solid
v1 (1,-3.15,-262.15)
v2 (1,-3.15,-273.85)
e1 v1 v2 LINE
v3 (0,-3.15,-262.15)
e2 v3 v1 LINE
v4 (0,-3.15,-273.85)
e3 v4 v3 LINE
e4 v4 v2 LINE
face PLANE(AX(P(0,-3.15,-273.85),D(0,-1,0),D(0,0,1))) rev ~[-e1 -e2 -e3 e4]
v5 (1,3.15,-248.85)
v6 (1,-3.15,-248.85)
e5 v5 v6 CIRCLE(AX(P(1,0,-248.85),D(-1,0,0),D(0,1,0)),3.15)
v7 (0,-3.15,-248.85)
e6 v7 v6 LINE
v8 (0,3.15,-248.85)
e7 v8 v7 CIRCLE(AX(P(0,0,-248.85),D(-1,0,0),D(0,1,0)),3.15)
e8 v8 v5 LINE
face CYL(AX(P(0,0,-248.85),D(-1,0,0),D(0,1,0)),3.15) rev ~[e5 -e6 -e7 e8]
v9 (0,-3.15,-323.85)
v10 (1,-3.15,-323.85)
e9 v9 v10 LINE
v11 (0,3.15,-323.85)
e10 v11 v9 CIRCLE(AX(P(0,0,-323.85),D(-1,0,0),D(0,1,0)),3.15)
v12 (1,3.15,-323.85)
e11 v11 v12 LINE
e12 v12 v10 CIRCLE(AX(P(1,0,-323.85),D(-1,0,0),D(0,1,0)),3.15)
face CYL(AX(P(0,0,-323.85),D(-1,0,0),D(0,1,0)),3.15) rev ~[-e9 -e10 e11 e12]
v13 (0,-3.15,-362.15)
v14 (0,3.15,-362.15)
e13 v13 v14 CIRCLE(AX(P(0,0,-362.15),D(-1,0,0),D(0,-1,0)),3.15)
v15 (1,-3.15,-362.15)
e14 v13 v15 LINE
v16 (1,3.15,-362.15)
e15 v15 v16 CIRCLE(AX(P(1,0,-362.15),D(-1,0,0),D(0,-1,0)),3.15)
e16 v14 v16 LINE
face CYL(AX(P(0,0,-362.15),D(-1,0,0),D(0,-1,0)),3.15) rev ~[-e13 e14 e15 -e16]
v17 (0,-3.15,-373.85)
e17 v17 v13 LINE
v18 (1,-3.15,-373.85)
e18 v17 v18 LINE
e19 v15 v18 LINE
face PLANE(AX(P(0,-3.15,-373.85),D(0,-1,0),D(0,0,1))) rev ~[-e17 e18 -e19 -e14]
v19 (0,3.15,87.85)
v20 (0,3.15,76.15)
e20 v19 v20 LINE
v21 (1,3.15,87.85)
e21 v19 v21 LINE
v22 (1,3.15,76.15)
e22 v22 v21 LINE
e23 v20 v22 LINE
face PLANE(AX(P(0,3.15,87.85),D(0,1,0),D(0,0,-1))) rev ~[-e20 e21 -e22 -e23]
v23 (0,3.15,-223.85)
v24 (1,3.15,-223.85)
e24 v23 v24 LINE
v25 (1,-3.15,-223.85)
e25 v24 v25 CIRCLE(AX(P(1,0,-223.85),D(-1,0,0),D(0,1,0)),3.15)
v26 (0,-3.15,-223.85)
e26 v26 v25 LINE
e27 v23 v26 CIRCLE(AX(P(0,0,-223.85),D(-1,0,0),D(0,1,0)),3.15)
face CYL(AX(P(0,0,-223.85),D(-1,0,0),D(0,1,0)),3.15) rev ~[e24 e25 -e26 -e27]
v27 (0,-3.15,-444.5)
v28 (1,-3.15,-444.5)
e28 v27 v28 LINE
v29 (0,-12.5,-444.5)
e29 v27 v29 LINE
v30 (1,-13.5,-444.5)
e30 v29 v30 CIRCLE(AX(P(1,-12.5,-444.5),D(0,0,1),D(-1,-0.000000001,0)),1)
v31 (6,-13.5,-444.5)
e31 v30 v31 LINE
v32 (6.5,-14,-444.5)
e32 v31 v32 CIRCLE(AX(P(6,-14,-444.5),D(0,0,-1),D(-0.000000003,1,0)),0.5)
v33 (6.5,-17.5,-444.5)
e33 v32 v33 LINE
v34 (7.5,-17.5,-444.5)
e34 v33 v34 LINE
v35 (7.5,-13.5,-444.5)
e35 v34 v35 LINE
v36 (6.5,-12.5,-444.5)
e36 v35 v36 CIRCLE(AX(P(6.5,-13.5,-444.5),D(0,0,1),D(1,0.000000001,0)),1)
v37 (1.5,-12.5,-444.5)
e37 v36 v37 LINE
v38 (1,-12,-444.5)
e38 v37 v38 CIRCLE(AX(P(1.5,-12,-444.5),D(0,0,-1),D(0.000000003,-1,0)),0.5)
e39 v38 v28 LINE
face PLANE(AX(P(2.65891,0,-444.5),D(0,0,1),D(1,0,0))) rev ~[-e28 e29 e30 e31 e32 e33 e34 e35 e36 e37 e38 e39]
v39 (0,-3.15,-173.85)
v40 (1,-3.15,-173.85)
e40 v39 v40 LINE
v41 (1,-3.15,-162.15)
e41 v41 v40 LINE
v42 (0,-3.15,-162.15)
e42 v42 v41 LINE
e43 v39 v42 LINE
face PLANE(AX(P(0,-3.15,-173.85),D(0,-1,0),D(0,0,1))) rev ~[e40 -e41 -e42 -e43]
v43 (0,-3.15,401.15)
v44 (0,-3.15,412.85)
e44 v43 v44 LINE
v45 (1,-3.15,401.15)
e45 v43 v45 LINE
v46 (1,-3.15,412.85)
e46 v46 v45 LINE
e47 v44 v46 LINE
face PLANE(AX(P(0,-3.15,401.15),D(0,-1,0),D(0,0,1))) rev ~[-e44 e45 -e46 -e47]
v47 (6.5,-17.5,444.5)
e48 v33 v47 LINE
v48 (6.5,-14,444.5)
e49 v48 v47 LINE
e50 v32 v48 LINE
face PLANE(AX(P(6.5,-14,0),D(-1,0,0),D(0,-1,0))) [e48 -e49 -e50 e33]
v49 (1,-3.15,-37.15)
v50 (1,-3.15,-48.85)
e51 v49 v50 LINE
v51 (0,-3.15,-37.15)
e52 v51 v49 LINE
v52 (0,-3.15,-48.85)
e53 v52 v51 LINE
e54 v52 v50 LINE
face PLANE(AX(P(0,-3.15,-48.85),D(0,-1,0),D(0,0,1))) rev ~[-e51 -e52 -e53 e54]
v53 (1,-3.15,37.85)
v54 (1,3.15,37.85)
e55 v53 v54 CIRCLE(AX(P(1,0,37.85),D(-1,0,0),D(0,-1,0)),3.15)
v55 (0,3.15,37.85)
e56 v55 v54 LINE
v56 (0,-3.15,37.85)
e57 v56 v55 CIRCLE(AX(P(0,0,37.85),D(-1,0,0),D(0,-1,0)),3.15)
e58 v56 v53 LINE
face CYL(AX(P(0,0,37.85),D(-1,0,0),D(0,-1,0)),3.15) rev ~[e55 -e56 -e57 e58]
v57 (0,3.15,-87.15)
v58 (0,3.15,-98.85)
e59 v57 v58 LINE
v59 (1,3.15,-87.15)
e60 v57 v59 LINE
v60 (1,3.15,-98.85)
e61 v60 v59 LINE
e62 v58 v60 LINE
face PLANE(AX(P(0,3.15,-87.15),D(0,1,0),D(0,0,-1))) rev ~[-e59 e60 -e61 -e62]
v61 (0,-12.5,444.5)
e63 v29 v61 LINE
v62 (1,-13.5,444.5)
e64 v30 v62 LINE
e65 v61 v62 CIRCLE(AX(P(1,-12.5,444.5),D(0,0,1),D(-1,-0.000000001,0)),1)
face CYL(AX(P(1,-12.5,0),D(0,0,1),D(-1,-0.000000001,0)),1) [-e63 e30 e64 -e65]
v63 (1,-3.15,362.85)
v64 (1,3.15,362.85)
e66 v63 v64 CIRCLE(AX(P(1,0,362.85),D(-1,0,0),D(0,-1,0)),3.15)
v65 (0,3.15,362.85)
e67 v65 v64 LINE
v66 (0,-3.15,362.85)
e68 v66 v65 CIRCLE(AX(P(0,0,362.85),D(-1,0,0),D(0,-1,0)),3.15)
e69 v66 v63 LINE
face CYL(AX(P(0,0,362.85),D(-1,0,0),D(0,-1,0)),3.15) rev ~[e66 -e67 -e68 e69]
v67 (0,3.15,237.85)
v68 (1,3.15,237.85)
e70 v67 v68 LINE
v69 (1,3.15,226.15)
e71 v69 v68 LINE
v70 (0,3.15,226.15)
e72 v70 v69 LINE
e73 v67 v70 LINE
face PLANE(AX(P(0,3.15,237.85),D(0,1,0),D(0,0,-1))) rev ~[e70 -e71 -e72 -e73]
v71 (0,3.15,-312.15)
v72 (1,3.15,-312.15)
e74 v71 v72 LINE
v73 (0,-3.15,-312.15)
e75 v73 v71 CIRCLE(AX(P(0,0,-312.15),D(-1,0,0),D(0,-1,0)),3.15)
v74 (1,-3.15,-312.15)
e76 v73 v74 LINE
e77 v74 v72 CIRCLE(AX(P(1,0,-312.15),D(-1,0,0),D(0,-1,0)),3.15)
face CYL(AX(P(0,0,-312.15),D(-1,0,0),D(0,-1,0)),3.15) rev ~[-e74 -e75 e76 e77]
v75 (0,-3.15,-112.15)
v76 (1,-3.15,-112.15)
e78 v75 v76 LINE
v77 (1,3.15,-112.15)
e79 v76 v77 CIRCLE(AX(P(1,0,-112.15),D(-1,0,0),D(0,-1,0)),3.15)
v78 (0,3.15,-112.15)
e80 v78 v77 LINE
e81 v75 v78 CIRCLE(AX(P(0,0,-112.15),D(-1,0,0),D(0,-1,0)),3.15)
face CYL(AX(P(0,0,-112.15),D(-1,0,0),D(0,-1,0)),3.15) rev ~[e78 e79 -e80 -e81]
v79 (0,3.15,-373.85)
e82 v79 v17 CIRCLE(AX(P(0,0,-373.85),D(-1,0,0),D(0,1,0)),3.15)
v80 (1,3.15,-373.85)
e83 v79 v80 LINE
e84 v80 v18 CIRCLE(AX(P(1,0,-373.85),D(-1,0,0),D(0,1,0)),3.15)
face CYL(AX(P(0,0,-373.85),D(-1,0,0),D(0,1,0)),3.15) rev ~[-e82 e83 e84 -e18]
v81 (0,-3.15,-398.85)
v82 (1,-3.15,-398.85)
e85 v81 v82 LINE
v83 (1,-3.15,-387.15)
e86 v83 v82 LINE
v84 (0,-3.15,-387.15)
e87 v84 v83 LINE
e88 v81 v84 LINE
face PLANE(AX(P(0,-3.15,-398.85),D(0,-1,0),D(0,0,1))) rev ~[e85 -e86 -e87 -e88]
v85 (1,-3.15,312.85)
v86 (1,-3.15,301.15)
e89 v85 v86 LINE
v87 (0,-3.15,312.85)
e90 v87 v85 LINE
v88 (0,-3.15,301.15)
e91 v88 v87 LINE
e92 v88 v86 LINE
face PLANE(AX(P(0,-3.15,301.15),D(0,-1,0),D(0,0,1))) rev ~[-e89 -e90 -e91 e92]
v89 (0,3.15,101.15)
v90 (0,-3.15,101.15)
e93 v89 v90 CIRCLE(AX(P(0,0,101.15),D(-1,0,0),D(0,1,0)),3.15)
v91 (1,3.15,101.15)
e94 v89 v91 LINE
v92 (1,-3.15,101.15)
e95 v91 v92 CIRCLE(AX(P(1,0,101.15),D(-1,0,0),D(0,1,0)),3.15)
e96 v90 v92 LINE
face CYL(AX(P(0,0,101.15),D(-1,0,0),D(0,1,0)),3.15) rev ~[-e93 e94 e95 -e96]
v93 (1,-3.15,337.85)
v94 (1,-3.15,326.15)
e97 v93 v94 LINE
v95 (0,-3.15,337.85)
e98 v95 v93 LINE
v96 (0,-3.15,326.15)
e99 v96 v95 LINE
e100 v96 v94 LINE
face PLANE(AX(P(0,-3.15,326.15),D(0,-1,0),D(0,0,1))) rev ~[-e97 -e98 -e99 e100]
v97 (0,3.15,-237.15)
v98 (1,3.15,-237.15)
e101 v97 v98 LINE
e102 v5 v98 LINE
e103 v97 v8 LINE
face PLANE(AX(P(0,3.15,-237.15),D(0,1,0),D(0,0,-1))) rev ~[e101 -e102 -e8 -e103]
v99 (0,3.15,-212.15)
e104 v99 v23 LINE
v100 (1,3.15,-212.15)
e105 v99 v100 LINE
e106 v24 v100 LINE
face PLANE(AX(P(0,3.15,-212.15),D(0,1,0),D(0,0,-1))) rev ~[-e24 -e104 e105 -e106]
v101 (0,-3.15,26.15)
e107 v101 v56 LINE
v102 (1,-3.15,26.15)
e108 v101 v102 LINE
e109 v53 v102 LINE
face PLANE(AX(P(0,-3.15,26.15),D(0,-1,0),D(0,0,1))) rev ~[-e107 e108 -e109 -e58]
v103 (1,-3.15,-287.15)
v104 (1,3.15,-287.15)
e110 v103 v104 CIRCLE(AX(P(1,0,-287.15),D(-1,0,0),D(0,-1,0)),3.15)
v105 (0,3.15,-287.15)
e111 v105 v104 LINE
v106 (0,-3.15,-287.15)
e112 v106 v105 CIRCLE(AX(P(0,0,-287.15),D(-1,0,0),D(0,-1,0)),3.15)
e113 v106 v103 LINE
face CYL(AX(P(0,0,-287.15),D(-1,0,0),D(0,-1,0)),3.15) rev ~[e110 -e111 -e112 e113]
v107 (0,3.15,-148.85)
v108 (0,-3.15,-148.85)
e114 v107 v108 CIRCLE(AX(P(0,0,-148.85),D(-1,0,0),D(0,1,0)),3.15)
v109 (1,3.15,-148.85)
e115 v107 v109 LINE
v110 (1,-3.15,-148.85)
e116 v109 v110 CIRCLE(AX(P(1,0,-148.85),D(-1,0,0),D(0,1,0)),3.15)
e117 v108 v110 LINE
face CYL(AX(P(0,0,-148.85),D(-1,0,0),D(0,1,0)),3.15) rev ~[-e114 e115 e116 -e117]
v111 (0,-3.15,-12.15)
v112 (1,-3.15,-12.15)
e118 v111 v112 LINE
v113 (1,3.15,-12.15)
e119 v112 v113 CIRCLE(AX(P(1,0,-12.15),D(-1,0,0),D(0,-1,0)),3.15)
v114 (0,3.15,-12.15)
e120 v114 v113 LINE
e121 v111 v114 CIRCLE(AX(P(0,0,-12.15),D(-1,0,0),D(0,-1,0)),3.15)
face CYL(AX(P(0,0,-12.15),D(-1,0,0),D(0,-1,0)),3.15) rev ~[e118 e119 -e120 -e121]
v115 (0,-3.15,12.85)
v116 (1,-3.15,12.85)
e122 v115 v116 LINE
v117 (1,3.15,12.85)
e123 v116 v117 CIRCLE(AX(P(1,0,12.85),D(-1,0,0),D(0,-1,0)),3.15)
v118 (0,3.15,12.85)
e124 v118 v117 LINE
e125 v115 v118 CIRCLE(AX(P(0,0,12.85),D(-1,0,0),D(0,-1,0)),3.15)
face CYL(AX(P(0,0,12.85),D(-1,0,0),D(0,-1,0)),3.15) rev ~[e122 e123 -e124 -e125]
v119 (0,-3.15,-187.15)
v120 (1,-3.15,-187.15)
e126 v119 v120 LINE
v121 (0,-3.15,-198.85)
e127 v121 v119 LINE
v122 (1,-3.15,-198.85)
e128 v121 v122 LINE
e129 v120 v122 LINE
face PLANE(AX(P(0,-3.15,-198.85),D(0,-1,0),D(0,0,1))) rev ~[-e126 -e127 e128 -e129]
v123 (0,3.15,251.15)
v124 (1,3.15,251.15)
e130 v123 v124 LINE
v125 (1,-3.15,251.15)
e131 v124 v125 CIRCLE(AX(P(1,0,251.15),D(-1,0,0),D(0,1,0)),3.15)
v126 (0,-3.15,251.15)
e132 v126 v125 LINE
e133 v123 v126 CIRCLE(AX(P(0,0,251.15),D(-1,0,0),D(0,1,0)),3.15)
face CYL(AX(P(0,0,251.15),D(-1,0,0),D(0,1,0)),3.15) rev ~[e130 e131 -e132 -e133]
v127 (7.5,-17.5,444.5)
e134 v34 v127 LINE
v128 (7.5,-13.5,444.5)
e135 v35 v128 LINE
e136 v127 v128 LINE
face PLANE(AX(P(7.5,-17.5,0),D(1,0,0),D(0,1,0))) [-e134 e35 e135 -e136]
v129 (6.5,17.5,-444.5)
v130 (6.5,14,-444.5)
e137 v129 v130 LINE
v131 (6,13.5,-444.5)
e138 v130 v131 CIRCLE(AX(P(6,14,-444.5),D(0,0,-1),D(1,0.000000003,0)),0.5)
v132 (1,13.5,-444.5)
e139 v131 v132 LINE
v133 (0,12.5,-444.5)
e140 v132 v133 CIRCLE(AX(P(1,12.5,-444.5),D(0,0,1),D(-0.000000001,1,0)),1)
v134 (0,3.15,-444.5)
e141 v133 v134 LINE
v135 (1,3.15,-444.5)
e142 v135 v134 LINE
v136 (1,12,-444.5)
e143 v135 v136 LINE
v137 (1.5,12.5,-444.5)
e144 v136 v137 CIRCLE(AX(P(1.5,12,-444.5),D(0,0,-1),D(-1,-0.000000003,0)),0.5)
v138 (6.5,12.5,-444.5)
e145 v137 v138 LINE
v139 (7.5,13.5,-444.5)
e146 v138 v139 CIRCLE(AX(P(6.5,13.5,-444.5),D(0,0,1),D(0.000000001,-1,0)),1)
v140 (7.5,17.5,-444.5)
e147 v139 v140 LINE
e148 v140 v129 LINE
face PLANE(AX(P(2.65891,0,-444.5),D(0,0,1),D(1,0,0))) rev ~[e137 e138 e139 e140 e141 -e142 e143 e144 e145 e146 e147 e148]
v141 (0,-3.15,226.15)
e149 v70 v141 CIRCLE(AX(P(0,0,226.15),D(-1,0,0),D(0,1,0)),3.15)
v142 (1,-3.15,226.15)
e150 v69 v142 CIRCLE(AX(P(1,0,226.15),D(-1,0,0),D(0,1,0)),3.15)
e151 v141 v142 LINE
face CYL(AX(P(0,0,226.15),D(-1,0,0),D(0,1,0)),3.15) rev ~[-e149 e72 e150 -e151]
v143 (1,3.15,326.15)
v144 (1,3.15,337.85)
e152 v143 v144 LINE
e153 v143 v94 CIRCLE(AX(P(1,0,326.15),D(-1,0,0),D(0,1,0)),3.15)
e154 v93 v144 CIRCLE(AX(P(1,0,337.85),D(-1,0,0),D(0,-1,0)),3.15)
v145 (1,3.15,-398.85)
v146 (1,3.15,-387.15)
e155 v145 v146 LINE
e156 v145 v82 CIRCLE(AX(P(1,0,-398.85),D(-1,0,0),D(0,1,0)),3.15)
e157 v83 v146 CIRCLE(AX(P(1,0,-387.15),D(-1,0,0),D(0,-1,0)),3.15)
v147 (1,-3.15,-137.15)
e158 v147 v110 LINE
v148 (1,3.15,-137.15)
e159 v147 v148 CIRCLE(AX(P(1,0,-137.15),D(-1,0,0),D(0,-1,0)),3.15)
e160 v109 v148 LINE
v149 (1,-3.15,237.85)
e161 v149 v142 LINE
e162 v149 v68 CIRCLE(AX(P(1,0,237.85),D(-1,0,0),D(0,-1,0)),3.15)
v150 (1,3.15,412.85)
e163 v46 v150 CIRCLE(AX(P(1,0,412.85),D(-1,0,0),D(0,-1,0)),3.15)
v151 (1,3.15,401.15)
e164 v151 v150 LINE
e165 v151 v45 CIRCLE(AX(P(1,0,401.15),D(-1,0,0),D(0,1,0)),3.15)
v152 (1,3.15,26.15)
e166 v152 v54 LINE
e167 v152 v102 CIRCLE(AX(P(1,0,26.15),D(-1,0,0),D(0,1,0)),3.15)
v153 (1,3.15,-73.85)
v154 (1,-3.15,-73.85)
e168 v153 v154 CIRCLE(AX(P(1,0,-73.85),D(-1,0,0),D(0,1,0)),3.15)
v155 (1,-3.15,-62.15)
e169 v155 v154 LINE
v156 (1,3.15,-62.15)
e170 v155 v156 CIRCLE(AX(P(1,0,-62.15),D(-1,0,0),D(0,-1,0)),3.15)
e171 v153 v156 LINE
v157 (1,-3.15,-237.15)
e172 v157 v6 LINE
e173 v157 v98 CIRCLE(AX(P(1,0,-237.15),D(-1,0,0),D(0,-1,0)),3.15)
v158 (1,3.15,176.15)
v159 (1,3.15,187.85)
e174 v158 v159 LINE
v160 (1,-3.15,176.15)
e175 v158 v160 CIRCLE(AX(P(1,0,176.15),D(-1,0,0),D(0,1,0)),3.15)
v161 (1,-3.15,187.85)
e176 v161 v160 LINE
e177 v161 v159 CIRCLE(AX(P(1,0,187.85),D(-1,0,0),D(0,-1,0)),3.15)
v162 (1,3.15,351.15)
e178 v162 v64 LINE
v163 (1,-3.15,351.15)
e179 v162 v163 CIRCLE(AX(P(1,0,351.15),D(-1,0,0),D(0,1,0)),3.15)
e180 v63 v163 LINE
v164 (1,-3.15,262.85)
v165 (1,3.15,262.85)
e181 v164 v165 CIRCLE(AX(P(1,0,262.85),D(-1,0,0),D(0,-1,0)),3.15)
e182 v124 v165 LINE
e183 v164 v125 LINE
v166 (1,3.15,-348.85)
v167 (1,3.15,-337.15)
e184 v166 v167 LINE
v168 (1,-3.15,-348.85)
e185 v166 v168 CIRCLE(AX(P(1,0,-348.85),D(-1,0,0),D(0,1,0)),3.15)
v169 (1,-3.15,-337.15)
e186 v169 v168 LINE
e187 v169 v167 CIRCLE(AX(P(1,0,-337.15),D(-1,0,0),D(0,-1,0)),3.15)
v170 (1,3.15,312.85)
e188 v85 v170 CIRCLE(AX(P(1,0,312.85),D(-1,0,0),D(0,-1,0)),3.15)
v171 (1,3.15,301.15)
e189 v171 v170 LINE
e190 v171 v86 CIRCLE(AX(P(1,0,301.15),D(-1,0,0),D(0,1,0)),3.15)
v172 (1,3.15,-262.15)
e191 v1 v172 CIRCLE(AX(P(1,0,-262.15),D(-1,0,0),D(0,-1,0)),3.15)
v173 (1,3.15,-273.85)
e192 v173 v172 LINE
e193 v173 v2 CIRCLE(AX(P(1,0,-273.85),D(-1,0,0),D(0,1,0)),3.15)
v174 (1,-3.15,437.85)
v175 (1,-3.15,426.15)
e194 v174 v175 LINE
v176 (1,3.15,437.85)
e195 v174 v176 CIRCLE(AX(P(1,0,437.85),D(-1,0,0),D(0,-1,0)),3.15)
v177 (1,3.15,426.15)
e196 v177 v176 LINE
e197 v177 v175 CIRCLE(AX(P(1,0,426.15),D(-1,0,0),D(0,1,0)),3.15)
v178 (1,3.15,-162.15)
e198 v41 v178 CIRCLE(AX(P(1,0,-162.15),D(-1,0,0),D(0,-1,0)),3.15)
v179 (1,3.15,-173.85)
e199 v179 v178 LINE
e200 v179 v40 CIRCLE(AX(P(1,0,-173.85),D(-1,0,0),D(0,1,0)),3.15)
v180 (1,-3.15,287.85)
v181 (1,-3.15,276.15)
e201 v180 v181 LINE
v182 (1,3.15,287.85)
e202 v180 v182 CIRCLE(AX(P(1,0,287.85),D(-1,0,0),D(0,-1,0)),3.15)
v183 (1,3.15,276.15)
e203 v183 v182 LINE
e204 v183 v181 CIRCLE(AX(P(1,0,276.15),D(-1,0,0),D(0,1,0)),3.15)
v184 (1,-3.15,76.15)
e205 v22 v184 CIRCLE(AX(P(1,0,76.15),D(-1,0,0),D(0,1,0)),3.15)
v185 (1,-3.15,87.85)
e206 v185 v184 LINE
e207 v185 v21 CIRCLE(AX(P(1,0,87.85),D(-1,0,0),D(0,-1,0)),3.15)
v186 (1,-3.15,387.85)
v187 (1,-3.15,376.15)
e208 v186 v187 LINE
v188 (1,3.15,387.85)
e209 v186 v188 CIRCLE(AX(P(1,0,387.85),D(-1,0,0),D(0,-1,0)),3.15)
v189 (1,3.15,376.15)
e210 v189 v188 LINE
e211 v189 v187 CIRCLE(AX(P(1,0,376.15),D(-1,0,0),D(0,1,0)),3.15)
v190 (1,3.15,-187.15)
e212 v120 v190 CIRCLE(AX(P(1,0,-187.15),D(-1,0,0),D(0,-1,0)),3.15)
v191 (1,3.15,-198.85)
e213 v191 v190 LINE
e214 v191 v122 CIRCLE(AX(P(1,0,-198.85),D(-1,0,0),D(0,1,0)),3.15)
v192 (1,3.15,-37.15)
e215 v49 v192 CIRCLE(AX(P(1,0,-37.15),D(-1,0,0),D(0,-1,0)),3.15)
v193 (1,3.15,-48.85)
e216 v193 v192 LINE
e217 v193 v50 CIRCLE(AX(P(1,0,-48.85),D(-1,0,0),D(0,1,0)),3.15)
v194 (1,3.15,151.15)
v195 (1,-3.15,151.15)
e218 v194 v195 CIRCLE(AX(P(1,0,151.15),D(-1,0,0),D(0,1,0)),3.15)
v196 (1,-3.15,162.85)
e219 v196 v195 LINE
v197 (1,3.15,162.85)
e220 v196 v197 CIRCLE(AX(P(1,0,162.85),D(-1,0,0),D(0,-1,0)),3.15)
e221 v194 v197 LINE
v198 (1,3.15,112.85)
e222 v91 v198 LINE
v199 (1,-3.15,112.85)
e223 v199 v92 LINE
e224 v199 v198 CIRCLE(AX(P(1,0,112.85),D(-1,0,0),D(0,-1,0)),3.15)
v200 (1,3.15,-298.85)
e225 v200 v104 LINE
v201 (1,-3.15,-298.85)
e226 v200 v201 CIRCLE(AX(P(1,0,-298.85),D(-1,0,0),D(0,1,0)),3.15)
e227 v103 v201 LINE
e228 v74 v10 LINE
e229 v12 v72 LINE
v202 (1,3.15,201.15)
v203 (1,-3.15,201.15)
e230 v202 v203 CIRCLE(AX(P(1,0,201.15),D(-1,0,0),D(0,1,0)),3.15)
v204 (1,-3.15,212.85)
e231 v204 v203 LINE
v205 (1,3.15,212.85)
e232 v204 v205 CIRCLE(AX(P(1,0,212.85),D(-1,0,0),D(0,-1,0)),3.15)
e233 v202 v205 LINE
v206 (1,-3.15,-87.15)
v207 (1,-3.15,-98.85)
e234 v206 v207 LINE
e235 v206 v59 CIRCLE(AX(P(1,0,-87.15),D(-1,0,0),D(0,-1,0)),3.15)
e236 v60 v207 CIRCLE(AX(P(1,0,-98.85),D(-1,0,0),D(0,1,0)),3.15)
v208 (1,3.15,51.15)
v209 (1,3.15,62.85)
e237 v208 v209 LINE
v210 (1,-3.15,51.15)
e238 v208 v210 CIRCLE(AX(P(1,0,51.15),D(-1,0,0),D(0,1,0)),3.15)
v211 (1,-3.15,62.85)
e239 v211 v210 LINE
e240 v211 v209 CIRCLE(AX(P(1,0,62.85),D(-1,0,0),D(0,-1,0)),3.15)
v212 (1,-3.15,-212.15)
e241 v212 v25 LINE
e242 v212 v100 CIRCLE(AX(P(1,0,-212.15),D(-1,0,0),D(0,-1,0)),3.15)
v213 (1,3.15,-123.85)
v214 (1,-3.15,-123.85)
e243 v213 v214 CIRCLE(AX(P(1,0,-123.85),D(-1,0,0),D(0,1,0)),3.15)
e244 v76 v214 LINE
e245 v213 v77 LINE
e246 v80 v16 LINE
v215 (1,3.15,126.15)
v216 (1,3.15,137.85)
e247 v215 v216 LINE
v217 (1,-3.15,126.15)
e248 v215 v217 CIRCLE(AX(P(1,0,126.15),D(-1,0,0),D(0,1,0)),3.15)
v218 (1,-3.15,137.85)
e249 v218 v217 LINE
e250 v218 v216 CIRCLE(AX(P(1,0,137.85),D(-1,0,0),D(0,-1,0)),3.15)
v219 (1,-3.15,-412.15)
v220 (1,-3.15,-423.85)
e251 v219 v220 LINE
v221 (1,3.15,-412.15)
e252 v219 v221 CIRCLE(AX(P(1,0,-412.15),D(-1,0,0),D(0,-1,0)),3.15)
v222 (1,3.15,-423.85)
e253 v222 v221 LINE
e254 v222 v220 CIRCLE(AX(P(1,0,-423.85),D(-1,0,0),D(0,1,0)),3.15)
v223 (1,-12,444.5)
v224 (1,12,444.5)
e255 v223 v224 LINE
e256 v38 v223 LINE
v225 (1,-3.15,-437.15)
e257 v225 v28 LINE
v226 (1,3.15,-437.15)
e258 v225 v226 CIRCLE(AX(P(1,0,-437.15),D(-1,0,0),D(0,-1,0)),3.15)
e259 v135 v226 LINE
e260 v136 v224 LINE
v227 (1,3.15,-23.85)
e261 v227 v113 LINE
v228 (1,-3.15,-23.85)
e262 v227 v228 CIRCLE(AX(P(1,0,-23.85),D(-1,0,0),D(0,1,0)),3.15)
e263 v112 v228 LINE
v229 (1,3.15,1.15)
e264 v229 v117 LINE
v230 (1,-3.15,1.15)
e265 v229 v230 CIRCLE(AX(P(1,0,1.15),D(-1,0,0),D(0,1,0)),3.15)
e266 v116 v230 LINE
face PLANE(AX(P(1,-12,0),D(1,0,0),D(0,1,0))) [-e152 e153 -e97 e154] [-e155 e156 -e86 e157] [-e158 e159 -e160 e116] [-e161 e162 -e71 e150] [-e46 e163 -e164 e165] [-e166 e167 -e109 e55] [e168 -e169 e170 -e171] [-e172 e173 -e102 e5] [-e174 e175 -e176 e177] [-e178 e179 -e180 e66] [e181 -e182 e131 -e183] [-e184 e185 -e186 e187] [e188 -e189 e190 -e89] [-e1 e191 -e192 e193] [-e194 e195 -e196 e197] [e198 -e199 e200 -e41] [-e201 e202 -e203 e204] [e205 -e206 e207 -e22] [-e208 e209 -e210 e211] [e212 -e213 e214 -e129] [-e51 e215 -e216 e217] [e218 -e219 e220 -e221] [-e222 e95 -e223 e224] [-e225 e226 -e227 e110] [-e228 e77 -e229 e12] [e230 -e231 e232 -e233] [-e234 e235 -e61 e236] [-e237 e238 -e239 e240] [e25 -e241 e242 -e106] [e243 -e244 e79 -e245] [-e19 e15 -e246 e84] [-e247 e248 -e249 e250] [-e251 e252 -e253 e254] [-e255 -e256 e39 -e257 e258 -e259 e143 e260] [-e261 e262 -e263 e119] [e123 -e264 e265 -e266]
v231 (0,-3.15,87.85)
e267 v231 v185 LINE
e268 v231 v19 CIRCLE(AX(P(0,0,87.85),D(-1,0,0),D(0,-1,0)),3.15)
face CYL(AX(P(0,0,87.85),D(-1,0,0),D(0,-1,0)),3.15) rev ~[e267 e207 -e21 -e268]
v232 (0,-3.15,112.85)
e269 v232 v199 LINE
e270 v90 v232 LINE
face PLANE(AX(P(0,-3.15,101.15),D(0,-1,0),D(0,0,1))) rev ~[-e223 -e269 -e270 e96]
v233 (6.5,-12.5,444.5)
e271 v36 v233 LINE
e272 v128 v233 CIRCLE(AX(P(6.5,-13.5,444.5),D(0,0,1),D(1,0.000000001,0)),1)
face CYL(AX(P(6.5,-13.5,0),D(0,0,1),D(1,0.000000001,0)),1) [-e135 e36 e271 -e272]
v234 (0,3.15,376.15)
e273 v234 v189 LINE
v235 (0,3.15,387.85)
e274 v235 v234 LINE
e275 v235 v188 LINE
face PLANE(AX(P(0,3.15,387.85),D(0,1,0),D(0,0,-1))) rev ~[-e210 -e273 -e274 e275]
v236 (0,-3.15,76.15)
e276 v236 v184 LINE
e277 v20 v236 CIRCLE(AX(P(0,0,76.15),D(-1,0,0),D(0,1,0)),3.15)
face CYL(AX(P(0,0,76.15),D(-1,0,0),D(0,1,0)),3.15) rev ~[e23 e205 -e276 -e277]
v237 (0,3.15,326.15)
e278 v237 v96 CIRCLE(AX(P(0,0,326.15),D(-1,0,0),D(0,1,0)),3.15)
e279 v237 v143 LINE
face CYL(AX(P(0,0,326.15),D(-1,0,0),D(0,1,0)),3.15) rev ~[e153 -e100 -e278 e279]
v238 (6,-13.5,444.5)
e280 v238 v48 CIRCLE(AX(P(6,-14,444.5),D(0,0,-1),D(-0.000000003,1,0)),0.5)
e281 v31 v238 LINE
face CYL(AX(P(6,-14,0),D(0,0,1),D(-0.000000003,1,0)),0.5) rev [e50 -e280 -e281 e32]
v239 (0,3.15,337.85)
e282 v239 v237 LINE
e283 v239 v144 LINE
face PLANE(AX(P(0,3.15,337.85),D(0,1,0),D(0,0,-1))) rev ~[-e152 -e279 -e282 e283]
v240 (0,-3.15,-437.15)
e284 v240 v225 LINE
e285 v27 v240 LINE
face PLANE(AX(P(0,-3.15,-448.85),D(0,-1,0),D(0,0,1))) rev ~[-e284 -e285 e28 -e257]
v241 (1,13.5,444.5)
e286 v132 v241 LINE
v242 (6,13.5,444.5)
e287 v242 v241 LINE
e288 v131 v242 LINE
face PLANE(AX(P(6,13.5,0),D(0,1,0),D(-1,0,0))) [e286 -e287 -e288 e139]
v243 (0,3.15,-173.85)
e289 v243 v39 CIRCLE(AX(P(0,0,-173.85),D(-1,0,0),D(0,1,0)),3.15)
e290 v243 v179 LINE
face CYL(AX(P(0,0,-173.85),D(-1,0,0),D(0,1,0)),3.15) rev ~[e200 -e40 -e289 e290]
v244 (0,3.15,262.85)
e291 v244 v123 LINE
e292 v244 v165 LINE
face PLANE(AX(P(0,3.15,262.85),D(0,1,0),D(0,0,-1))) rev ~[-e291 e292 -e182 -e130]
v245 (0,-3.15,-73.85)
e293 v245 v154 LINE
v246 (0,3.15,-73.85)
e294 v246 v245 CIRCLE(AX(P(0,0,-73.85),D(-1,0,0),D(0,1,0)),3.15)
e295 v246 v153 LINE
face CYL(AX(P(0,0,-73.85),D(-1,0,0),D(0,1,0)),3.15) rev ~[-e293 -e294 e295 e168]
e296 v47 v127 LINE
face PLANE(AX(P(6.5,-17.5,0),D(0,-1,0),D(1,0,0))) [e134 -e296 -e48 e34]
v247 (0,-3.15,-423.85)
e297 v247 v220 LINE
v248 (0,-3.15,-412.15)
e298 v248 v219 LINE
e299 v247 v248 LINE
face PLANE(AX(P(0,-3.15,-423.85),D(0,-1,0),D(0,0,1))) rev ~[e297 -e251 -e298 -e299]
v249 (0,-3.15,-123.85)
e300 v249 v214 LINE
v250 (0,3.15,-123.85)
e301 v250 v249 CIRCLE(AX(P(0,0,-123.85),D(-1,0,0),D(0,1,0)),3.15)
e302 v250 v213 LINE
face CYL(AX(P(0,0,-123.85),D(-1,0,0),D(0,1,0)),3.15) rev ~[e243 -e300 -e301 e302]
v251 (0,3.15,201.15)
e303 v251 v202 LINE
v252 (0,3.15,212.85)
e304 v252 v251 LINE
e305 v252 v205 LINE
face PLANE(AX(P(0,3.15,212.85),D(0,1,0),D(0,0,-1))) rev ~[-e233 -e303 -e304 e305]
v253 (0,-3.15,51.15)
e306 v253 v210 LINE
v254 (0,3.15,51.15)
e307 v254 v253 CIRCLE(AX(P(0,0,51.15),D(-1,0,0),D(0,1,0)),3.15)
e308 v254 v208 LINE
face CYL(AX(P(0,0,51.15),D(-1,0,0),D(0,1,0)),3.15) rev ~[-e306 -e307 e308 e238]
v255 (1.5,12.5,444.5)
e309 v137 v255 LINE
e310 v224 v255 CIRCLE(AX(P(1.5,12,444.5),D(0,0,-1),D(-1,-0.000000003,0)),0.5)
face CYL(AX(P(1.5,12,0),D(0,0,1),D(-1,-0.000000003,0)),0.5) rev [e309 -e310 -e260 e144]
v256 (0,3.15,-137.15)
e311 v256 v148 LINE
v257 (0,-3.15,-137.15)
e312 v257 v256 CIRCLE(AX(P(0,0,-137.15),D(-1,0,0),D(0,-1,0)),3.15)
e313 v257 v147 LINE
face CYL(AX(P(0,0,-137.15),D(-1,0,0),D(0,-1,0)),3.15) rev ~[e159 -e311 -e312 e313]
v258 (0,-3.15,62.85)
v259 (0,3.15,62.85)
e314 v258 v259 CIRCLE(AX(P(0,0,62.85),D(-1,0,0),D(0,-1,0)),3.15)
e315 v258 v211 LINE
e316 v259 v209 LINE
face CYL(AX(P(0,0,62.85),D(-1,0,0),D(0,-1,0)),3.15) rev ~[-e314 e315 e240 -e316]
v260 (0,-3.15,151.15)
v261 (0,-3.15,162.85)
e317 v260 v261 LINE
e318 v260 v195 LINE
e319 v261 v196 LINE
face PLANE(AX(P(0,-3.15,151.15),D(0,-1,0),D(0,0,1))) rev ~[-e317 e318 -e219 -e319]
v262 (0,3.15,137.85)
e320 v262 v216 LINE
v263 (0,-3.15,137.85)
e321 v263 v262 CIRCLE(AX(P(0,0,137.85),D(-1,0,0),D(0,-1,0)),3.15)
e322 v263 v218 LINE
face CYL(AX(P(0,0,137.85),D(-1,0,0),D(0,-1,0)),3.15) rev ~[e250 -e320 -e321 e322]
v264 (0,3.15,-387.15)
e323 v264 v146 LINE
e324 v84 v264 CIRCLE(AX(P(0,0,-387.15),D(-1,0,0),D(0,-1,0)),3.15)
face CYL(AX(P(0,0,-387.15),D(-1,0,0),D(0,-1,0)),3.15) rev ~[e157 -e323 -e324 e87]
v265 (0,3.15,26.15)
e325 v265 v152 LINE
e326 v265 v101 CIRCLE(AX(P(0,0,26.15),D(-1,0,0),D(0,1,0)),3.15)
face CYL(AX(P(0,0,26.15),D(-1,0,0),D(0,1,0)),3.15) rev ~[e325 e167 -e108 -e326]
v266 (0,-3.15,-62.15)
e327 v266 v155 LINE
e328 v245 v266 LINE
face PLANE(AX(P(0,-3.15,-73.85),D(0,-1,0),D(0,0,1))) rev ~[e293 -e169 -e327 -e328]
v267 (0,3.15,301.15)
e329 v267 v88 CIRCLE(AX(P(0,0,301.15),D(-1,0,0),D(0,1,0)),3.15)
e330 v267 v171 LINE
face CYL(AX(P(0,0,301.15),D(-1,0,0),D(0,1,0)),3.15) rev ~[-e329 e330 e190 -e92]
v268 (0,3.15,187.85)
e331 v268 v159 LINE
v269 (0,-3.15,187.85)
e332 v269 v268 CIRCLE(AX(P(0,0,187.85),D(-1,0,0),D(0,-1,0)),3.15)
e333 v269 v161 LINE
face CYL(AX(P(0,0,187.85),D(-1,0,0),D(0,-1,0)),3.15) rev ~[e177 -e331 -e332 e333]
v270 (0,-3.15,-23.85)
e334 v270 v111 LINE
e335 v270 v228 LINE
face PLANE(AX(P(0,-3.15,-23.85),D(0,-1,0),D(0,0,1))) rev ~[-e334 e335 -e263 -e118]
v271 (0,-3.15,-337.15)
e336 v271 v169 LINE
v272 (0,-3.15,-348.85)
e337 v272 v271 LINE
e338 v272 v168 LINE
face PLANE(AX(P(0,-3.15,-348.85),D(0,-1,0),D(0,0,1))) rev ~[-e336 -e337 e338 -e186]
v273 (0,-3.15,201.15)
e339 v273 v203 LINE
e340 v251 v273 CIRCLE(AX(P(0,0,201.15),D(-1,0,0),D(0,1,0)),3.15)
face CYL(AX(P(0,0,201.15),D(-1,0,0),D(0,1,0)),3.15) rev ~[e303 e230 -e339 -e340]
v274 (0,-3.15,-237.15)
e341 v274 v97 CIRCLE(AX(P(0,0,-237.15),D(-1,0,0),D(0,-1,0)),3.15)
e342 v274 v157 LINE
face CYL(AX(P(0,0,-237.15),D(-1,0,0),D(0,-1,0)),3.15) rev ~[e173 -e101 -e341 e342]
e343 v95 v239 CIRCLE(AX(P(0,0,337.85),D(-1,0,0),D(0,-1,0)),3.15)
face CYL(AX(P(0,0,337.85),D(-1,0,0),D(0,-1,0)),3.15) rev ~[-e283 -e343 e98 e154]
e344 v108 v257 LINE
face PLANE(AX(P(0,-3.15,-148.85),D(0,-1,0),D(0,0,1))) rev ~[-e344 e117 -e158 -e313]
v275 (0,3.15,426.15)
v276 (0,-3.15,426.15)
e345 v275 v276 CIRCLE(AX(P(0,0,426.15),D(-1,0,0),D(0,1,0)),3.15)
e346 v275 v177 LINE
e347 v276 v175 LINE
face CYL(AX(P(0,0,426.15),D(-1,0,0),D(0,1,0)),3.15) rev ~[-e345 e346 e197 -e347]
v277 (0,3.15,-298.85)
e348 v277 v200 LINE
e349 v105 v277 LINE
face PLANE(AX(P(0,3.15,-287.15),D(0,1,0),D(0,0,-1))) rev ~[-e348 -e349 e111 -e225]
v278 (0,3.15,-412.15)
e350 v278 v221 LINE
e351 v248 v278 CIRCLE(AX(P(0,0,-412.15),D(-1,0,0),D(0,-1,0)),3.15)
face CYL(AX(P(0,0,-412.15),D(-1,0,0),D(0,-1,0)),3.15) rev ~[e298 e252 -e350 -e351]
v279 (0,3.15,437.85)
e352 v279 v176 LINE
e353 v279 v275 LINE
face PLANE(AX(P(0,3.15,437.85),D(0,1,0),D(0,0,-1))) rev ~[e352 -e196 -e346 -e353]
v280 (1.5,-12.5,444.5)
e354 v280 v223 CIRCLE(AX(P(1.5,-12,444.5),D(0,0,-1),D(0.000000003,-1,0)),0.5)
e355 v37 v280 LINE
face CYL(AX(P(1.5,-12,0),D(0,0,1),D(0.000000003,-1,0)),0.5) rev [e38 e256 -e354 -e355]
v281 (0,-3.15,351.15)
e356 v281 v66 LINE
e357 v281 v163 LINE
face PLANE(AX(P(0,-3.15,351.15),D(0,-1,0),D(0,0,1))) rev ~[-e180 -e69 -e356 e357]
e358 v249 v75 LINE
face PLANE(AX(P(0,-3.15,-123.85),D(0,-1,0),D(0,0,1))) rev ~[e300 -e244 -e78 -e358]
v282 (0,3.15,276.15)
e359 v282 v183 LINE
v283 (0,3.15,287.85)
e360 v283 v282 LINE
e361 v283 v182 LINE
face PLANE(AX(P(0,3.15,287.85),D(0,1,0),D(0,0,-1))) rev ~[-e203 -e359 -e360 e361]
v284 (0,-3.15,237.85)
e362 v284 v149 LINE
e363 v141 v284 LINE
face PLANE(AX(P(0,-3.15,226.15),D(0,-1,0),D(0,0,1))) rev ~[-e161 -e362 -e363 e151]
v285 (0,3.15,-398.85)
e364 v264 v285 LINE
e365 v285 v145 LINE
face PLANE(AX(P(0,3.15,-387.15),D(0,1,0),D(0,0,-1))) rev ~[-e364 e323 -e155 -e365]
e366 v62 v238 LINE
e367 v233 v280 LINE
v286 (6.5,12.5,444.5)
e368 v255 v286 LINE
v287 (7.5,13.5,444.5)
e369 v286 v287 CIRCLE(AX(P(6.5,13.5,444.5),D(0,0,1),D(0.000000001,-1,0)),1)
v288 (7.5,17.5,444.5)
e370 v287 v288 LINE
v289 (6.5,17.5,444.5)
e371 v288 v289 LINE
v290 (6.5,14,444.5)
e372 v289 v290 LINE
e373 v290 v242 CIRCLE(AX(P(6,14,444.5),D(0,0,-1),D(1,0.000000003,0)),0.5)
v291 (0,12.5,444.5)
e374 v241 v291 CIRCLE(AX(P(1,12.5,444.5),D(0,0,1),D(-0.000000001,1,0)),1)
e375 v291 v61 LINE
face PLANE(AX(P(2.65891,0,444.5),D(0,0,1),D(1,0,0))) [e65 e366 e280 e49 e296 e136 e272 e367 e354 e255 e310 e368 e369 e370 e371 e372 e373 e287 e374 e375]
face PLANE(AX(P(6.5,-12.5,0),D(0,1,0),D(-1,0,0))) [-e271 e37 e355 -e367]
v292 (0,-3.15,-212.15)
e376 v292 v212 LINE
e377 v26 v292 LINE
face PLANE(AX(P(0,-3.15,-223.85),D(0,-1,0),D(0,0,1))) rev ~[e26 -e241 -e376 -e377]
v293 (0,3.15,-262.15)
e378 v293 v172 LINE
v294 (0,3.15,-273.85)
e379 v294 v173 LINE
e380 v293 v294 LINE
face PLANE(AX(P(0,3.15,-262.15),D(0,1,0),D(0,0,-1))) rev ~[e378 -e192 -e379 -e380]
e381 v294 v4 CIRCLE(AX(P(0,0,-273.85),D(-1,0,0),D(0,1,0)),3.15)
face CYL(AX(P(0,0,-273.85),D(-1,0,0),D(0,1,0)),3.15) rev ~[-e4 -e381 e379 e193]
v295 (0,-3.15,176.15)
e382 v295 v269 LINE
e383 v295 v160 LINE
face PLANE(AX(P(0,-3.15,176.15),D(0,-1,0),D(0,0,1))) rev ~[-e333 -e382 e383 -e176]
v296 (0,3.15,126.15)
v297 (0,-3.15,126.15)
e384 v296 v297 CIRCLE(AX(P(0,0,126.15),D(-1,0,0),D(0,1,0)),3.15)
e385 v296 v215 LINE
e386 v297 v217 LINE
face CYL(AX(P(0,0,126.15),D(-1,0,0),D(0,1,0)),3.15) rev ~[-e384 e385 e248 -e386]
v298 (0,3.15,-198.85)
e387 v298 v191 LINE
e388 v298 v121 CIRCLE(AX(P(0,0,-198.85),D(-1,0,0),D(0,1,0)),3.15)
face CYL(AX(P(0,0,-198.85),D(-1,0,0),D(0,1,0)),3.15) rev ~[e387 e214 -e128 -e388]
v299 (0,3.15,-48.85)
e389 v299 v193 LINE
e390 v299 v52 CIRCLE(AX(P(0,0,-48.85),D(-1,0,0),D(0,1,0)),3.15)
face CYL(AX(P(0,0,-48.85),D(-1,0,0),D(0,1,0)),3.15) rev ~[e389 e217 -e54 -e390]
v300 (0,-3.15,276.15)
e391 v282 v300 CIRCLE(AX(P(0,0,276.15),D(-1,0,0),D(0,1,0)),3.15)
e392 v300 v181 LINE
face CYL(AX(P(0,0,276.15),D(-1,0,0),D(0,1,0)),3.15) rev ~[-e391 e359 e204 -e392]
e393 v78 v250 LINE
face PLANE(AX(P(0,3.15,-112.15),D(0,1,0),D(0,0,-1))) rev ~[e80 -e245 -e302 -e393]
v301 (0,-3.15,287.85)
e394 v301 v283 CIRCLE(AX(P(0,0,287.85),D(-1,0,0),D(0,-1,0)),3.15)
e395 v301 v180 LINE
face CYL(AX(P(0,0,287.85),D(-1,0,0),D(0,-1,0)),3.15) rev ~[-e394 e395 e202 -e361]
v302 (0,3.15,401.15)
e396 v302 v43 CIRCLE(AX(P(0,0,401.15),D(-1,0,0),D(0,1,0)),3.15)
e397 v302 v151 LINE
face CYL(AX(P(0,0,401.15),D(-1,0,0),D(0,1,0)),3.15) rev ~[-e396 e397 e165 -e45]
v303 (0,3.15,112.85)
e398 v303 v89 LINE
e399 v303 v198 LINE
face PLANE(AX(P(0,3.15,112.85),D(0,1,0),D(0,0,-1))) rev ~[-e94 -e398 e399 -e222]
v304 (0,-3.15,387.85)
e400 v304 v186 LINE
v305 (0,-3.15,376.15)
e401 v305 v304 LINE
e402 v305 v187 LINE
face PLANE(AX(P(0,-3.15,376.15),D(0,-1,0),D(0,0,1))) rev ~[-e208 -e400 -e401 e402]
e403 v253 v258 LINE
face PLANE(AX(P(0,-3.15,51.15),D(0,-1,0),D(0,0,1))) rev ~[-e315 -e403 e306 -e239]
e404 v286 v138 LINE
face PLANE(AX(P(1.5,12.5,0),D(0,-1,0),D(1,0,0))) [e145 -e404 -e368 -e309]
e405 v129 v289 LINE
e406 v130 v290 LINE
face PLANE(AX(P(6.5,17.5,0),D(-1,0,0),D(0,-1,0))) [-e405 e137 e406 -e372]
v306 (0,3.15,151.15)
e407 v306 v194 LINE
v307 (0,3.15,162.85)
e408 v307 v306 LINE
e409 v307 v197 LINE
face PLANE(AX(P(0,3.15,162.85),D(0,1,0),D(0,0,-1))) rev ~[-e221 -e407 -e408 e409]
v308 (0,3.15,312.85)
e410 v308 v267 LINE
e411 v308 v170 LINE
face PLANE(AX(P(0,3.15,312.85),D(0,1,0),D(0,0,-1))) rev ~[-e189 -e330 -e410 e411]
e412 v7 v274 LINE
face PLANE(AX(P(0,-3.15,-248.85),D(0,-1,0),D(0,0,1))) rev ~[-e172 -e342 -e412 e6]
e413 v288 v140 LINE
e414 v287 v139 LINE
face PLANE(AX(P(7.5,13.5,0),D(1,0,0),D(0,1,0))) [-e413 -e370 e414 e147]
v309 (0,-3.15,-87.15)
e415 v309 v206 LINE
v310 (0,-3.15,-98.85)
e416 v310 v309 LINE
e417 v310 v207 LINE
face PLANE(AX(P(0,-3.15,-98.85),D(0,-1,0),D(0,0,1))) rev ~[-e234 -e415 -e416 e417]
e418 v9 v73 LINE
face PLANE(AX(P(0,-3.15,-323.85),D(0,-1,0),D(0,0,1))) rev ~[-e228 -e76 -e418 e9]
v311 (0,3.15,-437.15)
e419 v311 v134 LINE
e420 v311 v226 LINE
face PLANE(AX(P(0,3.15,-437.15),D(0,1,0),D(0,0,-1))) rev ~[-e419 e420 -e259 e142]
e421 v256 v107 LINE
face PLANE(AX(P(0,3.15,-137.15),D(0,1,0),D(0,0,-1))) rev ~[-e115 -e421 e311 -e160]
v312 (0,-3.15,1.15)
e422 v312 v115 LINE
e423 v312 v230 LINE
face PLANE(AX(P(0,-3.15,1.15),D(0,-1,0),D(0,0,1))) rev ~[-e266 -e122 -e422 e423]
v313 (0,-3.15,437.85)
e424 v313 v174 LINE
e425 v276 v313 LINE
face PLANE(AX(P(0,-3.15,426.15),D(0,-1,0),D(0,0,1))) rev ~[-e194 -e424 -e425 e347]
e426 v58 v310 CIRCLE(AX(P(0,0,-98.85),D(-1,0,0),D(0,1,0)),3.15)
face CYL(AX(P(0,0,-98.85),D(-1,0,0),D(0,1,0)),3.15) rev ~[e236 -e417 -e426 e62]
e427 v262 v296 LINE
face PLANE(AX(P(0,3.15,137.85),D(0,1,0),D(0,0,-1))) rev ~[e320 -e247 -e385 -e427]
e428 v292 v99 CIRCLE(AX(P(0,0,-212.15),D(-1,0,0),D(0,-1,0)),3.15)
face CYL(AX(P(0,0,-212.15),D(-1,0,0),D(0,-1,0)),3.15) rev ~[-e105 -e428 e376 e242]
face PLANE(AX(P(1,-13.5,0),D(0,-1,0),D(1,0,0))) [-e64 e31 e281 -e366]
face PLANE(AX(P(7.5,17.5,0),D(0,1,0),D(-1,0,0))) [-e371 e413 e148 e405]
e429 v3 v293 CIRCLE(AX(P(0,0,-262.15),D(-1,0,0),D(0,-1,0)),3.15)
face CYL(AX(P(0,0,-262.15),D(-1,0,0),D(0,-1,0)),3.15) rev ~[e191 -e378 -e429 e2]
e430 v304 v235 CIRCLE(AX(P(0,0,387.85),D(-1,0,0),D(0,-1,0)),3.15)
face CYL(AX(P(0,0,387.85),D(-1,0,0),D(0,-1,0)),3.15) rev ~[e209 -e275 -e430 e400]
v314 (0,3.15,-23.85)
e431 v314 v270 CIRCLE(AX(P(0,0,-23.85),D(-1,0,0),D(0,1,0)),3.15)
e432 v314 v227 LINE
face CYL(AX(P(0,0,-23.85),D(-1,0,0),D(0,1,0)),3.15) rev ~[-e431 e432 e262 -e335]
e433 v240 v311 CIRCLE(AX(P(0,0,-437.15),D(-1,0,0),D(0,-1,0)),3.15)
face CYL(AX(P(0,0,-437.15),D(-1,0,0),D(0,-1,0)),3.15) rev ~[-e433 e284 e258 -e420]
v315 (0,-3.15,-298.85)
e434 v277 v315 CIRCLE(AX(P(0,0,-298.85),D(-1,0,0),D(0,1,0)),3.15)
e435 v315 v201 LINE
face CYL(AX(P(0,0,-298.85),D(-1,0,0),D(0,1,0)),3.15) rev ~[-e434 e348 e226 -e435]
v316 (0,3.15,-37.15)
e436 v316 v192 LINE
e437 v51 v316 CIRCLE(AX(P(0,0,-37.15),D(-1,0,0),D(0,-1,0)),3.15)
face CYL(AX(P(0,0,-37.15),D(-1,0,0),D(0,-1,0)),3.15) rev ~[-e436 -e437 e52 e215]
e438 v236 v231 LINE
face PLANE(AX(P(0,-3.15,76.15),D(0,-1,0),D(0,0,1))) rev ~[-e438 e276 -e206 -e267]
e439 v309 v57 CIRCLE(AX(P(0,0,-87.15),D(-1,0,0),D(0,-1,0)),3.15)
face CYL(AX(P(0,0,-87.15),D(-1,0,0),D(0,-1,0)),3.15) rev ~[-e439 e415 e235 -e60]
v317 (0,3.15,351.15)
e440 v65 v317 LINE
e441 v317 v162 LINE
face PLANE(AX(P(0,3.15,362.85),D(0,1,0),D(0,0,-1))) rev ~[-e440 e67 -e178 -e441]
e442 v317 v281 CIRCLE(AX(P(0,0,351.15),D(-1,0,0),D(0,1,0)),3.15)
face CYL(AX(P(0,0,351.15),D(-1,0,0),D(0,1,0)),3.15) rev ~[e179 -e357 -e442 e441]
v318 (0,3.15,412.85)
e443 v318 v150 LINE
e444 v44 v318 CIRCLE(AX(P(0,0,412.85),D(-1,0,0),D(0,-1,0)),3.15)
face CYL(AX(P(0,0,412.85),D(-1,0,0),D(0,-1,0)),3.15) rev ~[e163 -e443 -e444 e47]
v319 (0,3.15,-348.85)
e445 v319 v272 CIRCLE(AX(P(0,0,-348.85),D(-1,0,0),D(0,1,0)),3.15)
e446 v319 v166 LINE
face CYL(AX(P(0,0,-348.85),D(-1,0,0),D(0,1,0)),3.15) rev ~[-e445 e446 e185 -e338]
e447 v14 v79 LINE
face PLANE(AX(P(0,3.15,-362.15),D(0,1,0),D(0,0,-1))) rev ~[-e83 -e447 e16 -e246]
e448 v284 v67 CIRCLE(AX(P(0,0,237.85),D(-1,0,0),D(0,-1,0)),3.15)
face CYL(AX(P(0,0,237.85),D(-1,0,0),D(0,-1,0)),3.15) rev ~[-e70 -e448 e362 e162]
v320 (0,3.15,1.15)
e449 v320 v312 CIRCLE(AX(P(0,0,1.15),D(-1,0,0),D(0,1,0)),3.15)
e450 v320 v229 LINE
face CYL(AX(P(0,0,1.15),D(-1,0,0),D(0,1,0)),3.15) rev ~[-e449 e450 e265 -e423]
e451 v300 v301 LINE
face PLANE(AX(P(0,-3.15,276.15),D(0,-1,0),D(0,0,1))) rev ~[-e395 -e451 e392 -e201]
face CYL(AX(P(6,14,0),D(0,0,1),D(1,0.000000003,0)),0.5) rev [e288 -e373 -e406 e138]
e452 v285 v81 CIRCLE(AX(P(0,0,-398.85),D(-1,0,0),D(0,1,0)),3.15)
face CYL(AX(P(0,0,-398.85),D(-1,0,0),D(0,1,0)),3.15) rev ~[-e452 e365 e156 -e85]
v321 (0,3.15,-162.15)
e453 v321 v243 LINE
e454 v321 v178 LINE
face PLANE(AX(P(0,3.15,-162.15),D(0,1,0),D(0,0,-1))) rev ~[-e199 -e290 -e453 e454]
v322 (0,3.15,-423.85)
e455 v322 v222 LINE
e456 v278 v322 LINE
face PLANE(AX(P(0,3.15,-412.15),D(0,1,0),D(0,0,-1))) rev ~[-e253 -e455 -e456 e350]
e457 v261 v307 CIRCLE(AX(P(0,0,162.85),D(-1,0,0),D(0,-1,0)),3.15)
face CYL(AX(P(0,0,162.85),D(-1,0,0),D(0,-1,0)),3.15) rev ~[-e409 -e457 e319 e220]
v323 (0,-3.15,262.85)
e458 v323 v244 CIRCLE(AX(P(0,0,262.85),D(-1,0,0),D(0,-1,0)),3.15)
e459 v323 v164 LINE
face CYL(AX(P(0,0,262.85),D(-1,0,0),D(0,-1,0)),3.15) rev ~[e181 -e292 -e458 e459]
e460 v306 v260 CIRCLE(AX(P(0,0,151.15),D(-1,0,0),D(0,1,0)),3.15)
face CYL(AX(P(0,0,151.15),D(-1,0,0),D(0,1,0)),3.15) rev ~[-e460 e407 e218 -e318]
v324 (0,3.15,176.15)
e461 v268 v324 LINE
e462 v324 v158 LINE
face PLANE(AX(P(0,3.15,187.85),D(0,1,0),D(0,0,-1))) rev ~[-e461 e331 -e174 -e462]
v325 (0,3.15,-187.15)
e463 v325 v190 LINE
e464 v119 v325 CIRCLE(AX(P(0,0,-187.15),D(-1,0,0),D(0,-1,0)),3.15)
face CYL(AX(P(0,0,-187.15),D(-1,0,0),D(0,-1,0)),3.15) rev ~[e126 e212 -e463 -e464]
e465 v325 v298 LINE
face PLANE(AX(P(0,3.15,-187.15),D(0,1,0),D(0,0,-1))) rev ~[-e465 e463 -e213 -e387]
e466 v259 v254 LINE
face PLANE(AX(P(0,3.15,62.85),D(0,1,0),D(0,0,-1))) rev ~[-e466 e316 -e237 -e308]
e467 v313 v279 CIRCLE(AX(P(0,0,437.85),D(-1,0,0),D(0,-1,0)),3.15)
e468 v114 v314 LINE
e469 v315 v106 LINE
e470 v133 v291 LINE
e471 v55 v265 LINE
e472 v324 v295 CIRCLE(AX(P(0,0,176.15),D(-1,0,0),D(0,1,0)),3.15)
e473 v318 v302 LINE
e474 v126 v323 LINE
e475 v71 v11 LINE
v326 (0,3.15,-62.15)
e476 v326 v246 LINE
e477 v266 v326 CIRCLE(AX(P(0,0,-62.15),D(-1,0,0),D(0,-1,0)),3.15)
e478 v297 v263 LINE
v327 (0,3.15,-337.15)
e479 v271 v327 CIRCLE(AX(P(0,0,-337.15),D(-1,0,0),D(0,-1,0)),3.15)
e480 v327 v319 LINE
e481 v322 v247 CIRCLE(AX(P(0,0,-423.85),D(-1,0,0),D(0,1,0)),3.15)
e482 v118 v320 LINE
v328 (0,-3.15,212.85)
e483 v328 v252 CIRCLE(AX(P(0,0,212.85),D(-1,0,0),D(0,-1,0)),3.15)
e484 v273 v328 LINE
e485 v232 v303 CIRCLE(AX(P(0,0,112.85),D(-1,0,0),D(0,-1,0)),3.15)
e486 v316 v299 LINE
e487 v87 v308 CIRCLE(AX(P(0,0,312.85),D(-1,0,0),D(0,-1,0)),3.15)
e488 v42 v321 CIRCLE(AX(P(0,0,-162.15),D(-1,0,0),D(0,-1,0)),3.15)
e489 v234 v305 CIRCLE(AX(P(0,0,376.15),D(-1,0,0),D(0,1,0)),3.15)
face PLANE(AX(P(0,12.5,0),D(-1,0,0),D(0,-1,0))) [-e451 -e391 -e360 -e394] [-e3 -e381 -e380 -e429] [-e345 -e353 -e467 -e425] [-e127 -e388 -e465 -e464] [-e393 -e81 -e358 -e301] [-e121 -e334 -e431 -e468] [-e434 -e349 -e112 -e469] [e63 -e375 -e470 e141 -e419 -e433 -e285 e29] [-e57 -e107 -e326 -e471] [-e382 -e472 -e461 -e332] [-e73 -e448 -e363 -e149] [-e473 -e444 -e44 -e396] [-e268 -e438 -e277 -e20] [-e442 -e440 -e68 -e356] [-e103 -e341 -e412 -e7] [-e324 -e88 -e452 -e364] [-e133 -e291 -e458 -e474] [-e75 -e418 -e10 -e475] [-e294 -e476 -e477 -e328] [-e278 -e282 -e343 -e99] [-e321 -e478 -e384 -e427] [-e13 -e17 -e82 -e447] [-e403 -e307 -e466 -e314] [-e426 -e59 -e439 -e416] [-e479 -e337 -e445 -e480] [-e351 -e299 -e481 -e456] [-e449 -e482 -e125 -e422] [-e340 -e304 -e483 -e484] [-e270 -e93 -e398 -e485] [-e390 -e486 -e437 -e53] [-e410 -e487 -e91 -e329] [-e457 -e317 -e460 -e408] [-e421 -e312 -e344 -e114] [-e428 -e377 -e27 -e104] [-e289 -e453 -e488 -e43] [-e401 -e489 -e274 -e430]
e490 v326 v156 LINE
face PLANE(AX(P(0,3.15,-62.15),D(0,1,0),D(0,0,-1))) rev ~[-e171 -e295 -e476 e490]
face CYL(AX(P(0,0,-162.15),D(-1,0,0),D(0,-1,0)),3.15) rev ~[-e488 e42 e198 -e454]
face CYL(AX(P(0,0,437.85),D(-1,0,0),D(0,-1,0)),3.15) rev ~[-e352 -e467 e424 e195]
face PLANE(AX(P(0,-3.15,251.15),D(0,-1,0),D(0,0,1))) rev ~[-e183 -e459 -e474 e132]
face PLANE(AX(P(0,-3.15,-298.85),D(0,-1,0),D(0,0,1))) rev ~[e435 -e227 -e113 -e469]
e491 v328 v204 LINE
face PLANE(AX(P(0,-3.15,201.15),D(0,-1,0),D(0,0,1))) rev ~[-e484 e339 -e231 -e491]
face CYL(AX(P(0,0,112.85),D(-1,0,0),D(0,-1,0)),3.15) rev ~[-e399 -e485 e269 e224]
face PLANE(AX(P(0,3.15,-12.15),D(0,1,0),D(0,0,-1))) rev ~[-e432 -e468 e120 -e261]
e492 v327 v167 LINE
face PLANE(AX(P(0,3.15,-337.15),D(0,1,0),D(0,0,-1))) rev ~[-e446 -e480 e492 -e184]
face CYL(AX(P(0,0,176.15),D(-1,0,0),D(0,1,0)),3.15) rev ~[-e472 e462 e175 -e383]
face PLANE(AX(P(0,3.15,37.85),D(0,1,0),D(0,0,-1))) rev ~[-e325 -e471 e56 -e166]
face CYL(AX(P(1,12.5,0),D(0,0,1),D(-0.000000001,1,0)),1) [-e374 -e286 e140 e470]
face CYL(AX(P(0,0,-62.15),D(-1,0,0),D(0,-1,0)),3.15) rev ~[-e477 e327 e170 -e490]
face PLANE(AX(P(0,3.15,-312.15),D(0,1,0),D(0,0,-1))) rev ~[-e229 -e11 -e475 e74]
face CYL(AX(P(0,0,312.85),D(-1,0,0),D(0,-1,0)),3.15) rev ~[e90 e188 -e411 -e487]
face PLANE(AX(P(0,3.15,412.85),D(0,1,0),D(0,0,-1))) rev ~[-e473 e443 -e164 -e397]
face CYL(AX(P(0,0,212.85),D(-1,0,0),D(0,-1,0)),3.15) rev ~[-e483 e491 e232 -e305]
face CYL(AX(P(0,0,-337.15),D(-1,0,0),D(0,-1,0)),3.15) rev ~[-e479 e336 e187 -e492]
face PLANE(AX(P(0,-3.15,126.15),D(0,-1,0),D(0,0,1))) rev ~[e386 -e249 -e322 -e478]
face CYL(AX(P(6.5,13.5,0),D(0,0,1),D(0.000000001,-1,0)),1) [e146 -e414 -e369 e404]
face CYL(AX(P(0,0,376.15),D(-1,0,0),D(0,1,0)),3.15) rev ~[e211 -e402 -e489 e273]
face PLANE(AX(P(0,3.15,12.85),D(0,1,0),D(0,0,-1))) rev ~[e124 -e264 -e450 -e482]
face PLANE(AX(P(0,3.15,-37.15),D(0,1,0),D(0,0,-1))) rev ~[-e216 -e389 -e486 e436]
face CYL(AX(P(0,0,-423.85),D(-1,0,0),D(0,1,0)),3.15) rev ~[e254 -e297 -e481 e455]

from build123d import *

# Parameters (mm, degrees)
BOSS_EXTRUDE1_DEPTH = 444.5
CUT_EXTRUDE1_DEPTH  = 7.5
LPATTERN1_COUNT     = 36
LPATTERN1_PITCH     = 25


with BuildPart() as part:
    # Sketch1 → Boss-Extrude1 (new, symmetric)
    with BuildSketch(Plane.XY):
        with BuildLine():
            Line((7.5, 17.5), (6.5, 17.5))
            Line((6.5, 17.5), (6.5, 14))
            ThreePointArc((6.5, 14), (6.353553391, 13.646446609), (6, 13.5))
            Line((6, 13.5), (1, 13.5))
            ThreePointArc((1, 13.5), (0.292893219, 13.207106781), (0, 12.5))
            Line((0, 12.5), (0, -12.5))
            ThreePointArc((0, -12.5), (0.292893219, -13.207106781), (1, -13.5))
            Line((1, -13.5), (6, -13.5))
            ThreePointArc((6, -13.5), (6.353553391, -13.646446609), (6.5, -14))
            Line((6.5, -14), (6.5, -17.5))
            Line((6.5, -17.5), (7.5, -17.5))
            Line((7.5, -17.5), (7.5, -13.5))
            ThreePointArc((7.5, -13.5), (7.207106781, -12.792893219), (6.5, -12.5))
            Line((6.5, -12.5), (1.5, -12.5))
            ThreePointArc((1.5, -12.5), (1.146446609, -12.353553391), (1, -12))
            Line((1, -12), (1, 12))
            ThreePointArc((1, 12), (1.146446609, 12.353553391), (1.5, 12.5))
            Line((1.5, 12.5), (6.5, 12.5))
            ThreePointArc((6.5, 12.5), (7.207106781, 12.792893219), (7.5, 13.5))
            Line((7.5, 13.5), (7.5, 17.5))
        make_face()
    extrude(amount=BOSS_EXTRUDE1_DEPTH, both=True)

    # Sketch2 → Cut-Extrude1 (cut)
    with BuildSketch(Plane(origin=(0, 0, 0), x_dir=(0, 0, -1), z_dir=(1, 0, 0))):
        with BuildLine():
            Line((-437.85, 3.15), (-426.15, 3.15))
            ThreePointArc((-426.15, 3.15), (-423, 0), (-426.15, -3.15))
            Line((-426.15, -3.15), (-437.85, -3.15))
            ThreePointArc((-437.85, -3.15), (-441, 0), (-437.85, 3.15))
        make_face()
    cut_extrude1 = extrude(amount=CUT_EXTRUDE1_DEPTH, mode=Mode.SUBTRACT)

    # LPattern1: Cut-Extrude1 ×36
    with Locations(*[(0, 0, -i * LPATTERN1_PITCH) for i in range(1, LPATTERN1_COUNT)]):
        add(cut_extrude1, mode=Mode.SUBTRACT)


solid = part.part
